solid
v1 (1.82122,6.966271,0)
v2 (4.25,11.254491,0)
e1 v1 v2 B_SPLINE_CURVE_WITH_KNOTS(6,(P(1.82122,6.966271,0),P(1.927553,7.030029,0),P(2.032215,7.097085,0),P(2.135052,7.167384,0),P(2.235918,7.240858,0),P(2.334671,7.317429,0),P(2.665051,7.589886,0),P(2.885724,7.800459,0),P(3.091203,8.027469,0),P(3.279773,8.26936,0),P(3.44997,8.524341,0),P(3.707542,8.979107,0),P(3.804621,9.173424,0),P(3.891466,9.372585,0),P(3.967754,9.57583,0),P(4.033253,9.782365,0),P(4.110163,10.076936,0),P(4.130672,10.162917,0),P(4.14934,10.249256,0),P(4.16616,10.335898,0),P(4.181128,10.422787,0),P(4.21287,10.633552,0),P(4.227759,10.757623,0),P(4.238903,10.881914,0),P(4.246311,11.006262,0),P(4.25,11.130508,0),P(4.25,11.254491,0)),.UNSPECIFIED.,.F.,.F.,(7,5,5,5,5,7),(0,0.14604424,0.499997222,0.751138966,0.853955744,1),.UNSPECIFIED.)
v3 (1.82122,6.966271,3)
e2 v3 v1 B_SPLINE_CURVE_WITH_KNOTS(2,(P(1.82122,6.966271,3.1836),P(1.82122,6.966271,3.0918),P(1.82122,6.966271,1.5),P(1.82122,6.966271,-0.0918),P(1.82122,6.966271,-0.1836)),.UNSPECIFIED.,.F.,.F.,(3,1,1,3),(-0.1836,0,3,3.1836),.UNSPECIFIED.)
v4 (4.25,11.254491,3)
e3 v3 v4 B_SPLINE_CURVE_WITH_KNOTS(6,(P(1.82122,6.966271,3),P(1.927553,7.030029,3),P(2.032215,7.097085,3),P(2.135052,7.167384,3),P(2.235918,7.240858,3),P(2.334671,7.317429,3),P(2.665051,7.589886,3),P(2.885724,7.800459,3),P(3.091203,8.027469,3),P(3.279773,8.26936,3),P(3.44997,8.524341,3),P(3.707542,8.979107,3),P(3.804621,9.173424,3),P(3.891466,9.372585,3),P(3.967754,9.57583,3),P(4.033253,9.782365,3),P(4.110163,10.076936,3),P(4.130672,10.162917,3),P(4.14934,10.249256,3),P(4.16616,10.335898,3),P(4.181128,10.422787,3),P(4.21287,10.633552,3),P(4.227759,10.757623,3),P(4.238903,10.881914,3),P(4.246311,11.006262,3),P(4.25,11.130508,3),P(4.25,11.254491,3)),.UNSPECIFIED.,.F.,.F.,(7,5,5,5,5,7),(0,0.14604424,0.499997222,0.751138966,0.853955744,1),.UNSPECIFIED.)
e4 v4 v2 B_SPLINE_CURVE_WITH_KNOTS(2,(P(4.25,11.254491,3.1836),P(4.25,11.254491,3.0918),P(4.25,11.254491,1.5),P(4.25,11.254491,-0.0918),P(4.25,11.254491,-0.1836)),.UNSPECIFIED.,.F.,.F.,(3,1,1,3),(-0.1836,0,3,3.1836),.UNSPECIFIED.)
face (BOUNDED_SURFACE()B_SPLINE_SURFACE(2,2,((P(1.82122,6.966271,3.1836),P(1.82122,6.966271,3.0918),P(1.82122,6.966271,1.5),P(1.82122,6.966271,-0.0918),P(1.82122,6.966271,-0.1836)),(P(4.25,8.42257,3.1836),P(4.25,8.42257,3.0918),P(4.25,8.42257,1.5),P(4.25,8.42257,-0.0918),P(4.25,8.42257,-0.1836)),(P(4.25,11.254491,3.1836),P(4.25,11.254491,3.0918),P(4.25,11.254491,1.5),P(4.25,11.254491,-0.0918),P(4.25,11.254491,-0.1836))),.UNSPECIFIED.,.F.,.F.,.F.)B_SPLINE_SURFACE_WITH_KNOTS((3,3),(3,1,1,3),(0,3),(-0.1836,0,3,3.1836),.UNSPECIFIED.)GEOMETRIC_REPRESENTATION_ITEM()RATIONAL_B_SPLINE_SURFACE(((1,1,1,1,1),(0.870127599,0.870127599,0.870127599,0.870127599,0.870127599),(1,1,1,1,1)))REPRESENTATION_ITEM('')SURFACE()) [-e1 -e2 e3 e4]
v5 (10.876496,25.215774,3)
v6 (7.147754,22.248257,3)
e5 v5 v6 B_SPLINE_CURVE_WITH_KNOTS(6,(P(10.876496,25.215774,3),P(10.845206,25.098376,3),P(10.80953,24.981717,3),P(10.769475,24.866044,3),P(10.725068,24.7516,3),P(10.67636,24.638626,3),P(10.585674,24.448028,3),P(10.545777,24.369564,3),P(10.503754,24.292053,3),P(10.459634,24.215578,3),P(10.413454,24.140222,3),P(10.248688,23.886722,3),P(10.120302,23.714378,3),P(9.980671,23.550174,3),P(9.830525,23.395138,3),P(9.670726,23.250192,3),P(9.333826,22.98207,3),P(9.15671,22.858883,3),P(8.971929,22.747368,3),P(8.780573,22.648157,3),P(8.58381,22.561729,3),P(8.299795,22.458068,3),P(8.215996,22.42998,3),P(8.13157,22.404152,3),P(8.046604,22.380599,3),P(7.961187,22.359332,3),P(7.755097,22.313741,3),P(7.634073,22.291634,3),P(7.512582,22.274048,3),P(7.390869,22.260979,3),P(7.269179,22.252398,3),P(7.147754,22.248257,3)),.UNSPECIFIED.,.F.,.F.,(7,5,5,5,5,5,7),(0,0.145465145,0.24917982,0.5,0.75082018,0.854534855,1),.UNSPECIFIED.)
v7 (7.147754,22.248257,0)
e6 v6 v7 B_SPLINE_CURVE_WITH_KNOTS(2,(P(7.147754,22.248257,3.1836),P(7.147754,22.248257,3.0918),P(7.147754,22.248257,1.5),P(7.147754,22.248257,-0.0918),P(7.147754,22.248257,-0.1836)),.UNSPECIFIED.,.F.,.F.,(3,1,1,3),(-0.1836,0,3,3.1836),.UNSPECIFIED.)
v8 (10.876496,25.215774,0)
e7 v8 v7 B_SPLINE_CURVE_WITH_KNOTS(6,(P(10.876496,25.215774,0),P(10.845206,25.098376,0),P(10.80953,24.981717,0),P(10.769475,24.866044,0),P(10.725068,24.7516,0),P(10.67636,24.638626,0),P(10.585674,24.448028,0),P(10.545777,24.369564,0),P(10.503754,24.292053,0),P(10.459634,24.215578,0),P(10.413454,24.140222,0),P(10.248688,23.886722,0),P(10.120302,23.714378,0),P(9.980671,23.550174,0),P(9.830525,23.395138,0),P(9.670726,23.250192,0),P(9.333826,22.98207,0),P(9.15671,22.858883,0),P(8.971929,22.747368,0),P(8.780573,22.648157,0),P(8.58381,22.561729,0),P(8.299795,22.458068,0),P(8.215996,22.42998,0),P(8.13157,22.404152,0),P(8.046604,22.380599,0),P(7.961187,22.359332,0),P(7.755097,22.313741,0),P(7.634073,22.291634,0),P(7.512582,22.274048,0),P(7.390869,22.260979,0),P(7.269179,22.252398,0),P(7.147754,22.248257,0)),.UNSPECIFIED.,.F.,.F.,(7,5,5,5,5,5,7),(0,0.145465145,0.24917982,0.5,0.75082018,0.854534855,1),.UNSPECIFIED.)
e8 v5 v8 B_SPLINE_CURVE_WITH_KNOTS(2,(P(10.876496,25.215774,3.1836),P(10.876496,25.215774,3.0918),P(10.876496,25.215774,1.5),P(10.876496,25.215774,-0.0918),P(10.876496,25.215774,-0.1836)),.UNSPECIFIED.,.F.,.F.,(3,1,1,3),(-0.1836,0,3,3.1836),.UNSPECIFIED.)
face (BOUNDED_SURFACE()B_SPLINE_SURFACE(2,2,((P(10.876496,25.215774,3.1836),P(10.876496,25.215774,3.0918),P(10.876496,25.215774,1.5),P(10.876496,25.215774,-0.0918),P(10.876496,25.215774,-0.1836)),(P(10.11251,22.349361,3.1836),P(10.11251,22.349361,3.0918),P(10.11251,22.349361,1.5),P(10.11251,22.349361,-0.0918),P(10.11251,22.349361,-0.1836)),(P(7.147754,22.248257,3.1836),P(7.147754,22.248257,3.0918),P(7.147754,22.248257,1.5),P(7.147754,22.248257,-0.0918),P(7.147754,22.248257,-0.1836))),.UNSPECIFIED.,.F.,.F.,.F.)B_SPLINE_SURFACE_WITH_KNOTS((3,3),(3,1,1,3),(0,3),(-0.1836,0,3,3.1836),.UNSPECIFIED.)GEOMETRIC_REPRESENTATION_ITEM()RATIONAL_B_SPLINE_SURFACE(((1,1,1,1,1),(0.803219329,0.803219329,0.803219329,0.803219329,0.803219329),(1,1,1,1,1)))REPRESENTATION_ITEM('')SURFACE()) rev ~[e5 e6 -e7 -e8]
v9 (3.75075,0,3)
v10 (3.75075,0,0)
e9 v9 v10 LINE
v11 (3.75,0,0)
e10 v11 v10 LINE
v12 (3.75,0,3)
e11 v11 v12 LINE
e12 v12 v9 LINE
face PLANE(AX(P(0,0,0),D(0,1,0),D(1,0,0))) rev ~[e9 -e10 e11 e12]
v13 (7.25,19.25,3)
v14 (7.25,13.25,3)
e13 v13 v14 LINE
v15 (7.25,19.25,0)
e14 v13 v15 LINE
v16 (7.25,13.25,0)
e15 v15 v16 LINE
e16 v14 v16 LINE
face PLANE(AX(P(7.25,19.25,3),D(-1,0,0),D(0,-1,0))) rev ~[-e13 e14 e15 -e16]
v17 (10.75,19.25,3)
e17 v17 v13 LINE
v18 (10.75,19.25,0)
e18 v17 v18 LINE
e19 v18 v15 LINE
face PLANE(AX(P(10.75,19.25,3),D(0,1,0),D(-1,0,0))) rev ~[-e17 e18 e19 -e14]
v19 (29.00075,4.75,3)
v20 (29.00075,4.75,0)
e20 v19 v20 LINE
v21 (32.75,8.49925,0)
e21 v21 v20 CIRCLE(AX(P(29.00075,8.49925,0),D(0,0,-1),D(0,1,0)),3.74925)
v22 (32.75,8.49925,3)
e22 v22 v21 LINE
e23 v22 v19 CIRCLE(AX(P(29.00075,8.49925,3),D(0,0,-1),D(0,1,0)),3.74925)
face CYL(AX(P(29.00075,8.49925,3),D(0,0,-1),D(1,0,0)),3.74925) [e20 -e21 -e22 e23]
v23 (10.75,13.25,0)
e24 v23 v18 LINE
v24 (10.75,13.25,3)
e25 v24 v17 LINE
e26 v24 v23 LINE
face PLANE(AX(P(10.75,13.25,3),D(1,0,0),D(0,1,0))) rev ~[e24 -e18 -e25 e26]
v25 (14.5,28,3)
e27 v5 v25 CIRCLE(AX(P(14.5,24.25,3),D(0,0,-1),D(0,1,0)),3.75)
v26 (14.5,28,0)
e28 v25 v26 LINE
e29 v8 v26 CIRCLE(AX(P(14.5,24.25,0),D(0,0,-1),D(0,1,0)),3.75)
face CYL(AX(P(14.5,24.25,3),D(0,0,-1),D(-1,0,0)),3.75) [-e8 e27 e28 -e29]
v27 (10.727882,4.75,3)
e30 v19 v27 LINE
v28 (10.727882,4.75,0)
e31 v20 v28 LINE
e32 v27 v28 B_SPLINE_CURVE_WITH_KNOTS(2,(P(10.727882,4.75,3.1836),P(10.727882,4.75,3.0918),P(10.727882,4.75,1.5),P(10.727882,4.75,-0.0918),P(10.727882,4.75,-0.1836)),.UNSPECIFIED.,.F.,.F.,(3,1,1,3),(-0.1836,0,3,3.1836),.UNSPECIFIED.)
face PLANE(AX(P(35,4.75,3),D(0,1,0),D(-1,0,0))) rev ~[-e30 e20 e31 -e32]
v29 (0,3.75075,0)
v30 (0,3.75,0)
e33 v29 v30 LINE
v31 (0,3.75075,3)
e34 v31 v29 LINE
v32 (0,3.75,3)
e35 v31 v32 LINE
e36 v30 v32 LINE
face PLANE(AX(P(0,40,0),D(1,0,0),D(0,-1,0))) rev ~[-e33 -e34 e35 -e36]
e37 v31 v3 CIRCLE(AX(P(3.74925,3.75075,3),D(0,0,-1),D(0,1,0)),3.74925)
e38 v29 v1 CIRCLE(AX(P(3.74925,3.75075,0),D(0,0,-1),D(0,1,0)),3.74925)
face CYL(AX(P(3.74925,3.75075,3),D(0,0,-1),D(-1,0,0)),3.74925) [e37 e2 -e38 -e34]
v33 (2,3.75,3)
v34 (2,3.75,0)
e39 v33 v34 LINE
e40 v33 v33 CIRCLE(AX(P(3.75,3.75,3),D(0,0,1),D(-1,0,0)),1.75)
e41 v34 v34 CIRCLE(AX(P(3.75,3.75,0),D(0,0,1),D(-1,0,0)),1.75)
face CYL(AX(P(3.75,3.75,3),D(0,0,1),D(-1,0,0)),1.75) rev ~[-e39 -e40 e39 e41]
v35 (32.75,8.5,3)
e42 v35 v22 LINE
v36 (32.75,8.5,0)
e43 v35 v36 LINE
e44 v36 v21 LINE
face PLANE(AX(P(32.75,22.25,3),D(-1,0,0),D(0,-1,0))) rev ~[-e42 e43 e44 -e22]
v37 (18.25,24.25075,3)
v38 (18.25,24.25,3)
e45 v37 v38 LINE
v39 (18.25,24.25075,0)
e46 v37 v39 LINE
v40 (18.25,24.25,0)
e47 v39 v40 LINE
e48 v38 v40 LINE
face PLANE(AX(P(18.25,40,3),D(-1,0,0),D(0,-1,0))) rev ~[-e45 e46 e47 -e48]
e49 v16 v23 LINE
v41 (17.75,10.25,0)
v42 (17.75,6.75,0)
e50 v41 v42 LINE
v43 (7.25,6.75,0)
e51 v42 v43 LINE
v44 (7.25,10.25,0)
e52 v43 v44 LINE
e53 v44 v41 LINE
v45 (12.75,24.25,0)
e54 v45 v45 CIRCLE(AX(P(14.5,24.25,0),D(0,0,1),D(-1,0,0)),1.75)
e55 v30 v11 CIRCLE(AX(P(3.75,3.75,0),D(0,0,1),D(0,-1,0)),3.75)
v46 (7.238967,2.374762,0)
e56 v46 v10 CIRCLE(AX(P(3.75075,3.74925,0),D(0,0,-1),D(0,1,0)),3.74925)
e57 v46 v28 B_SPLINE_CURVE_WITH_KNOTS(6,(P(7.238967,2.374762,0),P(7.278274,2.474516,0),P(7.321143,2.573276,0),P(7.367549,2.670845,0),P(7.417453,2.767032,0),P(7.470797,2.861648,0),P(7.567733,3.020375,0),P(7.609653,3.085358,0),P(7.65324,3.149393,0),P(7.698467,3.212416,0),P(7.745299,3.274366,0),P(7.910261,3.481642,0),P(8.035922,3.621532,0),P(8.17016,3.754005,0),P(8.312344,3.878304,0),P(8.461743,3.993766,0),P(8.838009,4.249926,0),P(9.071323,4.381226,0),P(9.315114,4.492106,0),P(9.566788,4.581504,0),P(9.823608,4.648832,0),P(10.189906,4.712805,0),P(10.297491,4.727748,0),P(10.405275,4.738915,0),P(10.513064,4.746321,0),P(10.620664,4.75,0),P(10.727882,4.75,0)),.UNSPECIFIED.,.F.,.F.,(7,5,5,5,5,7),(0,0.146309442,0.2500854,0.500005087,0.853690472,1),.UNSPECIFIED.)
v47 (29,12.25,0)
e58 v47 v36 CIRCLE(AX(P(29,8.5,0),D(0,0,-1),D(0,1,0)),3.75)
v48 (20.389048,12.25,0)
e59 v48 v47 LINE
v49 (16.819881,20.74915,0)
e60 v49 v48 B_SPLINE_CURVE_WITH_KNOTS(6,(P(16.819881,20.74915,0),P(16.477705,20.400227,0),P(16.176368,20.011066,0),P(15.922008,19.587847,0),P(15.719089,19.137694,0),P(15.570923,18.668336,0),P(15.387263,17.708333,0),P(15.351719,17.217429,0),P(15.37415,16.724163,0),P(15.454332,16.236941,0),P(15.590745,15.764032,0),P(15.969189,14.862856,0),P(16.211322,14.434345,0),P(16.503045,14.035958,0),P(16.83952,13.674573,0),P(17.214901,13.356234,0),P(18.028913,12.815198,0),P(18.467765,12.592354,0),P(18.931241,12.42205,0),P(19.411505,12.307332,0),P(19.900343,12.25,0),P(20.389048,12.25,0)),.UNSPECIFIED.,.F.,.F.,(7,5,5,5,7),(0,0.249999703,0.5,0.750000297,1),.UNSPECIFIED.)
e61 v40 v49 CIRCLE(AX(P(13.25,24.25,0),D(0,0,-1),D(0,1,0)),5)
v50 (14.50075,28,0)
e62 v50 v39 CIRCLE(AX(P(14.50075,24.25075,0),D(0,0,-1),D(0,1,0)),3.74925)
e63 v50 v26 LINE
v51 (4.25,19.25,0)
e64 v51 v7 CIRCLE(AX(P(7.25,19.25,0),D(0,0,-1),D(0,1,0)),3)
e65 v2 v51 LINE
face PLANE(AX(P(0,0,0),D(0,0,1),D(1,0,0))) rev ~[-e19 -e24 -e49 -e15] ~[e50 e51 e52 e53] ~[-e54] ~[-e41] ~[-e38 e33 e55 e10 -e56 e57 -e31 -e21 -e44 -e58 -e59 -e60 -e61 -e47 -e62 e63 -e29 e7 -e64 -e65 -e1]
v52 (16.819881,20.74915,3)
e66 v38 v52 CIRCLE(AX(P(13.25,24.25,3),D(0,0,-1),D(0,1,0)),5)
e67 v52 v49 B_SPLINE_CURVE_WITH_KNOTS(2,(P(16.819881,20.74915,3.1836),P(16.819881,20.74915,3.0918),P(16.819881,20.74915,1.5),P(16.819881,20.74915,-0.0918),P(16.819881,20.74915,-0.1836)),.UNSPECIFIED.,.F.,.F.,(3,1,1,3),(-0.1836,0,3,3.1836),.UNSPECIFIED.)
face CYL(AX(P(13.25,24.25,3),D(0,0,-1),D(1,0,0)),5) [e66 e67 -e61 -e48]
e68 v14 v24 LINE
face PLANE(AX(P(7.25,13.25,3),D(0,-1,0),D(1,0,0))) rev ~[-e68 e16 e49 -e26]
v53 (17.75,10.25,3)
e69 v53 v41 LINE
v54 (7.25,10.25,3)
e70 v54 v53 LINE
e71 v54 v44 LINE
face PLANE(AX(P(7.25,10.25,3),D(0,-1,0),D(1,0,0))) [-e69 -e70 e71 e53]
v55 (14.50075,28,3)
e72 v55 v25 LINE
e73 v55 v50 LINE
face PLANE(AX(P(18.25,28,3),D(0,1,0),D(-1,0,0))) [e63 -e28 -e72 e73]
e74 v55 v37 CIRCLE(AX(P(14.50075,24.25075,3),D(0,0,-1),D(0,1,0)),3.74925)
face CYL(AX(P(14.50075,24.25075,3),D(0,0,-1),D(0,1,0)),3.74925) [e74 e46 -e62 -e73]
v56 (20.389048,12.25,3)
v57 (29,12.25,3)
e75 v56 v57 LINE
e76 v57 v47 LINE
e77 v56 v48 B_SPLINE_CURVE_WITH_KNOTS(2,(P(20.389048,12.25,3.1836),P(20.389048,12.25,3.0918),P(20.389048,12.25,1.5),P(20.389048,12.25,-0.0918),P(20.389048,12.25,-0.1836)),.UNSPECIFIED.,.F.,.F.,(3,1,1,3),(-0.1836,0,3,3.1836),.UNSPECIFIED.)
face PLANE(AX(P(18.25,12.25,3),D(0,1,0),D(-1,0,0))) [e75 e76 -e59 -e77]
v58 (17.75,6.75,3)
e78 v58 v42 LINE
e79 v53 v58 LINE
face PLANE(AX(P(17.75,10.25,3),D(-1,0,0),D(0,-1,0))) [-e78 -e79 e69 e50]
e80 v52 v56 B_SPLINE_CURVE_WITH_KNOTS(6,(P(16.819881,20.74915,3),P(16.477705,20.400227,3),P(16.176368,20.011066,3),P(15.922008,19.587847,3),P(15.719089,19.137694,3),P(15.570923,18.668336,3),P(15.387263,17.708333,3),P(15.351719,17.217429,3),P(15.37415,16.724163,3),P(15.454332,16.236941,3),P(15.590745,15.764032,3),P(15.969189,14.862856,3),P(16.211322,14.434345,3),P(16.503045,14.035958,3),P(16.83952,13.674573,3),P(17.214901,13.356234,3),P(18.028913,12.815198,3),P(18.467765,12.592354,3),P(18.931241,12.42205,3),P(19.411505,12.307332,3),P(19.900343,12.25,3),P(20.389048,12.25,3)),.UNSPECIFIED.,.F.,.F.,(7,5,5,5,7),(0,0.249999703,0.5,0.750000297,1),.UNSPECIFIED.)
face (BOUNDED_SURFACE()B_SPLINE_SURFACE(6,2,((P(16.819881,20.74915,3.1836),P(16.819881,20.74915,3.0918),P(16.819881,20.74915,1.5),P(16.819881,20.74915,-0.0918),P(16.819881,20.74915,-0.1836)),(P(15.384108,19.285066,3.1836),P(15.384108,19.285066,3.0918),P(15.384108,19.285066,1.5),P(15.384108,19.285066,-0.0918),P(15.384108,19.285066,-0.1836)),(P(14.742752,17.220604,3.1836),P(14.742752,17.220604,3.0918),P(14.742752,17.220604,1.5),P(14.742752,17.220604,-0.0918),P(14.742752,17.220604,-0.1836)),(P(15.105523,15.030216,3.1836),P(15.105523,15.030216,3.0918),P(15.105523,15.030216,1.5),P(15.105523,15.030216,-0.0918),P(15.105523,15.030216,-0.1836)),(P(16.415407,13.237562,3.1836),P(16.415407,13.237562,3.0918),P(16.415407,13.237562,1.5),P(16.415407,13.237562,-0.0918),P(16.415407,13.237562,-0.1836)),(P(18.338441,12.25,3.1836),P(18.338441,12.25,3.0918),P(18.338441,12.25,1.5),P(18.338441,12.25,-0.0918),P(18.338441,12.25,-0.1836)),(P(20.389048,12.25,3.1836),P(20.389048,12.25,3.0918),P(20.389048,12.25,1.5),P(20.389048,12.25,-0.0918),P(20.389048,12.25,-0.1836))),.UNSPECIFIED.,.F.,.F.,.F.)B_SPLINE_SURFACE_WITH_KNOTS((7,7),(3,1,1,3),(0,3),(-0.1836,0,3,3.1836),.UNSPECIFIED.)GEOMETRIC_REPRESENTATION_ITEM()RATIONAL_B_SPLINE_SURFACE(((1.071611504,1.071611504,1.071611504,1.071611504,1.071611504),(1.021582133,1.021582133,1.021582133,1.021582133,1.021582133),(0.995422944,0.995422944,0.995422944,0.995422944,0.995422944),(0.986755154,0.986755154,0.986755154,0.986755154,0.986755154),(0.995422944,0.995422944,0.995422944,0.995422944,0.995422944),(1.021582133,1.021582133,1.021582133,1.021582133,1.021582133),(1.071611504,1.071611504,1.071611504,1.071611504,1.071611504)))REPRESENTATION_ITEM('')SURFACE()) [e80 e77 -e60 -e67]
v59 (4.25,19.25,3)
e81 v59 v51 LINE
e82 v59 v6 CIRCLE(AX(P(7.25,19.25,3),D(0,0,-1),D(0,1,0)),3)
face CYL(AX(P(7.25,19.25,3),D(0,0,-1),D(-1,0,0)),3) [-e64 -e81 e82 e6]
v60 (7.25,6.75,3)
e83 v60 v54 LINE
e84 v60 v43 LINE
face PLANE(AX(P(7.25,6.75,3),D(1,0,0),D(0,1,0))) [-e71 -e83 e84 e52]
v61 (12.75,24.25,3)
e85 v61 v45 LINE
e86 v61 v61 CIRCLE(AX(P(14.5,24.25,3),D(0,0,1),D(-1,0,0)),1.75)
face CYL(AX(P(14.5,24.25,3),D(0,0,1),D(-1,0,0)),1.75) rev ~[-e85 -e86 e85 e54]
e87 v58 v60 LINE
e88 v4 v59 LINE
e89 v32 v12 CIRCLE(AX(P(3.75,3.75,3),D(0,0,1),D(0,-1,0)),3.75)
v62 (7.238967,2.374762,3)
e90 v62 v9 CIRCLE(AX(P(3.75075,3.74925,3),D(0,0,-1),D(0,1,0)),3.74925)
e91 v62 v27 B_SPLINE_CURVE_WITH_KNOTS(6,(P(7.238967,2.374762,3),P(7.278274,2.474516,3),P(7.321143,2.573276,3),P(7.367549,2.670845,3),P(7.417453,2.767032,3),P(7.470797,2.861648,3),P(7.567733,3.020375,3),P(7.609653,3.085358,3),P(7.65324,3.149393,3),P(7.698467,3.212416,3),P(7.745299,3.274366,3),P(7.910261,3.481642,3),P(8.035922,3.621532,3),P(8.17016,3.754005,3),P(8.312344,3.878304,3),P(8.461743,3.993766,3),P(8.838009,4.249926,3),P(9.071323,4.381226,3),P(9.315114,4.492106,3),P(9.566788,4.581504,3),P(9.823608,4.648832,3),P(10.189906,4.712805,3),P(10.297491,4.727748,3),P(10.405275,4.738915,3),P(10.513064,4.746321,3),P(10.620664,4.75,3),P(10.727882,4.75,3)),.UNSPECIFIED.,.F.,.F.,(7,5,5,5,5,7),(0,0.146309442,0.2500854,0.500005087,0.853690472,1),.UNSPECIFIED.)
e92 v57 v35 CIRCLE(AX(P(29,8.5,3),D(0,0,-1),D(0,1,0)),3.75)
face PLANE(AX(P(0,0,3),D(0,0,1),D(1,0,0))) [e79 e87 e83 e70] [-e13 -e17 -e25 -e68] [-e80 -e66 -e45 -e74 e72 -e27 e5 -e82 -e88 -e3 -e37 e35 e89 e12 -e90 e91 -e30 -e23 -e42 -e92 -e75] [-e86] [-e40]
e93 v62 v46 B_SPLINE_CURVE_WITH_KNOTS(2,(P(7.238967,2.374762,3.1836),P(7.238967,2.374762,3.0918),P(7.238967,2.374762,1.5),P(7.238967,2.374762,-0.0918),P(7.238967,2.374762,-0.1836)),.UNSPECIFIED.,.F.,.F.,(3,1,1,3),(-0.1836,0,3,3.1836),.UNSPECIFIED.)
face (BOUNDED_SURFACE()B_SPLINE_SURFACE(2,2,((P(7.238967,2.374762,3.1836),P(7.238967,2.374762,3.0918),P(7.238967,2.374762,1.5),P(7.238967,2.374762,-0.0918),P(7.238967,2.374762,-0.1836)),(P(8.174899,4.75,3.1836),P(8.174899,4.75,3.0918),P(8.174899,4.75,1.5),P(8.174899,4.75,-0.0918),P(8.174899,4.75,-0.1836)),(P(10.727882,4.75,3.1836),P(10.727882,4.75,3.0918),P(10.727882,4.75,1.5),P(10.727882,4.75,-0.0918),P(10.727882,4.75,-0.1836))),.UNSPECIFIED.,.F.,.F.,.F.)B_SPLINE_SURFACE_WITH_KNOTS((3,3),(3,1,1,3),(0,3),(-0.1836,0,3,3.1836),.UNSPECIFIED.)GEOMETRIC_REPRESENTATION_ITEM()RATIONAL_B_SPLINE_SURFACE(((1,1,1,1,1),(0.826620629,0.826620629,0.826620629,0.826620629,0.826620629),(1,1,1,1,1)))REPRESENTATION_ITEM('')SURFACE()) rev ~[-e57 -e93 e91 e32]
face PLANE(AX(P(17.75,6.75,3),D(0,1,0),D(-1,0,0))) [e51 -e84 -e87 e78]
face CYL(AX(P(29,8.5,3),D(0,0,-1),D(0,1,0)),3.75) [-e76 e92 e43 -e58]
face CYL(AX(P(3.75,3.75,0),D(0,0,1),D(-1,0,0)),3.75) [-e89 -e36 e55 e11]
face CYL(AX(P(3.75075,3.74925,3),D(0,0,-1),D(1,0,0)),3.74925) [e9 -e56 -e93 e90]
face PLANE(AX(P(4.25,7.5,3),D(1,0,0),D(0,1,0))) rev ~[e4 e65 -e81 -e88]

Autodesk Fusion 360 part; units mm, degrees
sketch "Sketch1" plane through (0, 0, 0) normal (0, 0, 1) x (1, 0, 0)
  line L0 (0, 0) -> (35, 0)
  line L1 (35, 0) -> (35, 40)
  line L2 (35, 40) -> (0, 40)
  line L3 (0, 40) -> (0, 0)
  dimension "d1" = 35
  dimension "d2" = 40
extrude "Extrude1" add sketch "Sketch1" along normal blind 3
sketch "Sketch2" plane through (0, 0, 3) normal (0, 0, 1) x (-1, 0, 0)
  line L0 (0, -40) -> (0, 0)
  line L1 (0, 0) -> (-35, 0)
  line L2 (-35, 0) -> (-35, -40)
  line L3 (-35, -40) -> (0, -40)
  circle A0 centre (-3.75, -3.75) radius 1.75
  dimension "d5" = 3.5
  dimension "d6" = 3.75
  dimension "d7" = 3.75
extrude "Extrude2" cut sketch "Sketch2" against normal blind 3 contours A0
fillet "Fillet1" radius 3.75 1 edges at (0, 0, 1.5)
sketch "Sketch3" plane through (0, 0, 3) normal (0, 0, 1) x (-1, 0, 0)
  arc A0 (0, -3.75) -> (-3.75, 0) centre (-3.75, -3.75) ccw
  line L0 (-3.75, 0) -> (-35, 0)
  line L1 (-35, 0) -> (-35, -40)
  line L2 (-35, -40) -> (0, -40)
  line L3 (0, -40) -> (0, -3.75)
  circle A1 centre (-3.75, -3.75) radius 1.75
  line L4 (-7.25, -10.25) -> (-17.75, -10.25)
  line L5 (-17.75, -10.25) -> (-17.75, -6.75)
  line L6 (-17.75, -6.75) -> (-7.25, -6.75)
  line L7 (-7.25, -6.75) -> (-7.25, -10.25)
  dimension "d12" = 10.5
  dimension "d13" = 3.5
  dimension "d14" = 3
  dimension "d15" = 3.5
extrude "Extrude3" cut sketch "Sketch3" against normal blind 3 contours L4 L5 L6 L7
sketch "Sketch4" plane through (0, 0, 3) normal (0, 0, 1) x (-1, 0, 0)
  line L0 (-17.75, -10.25) -> (-17.75, -6.75)
  line L1 (-17.75, -6.75) -> (-7.25, -6.75)
  line L2 (-7.25, -6.75) -> (-7.25, -10.25)
  line L3 (-7.25, -10.25) -> (-17.75, -10.25)
  arc A0 (0, -3.75) -> (-3.75, 0) centre (-3.75, -3.75) ccw
  line L4 (-3.75, 0) -> (-35, 0)
  line L5 (-35, 0) -> (-35, -40)
  line L6 (-35, -40) -> (0, -40)
  line L7 (0, -40) -> (0, -3.75)
  circle A1 centre (-3.75, -3.75) radius 1.75
  line L8 (-7.25, -13.25) -> (-10.75, -13.25)
  line L9 (-10.75, -13.25) -> (-10.75, -19.25)
  line L10 (-10.75, -19.25) -> (-7.25, -19.25)
  line L11 (-7.25, -19.25) -> (-7.25, -13.25)
  dimension "d18" = 3.5
  dimension "d19" = 6
  dimension "d20" = 0
  dimension "d21" = 3
extrude "Extrude4" cut sketch "Sketch4" against normal blind 3 contours L8 L9 L10 L11
sketch "Sketch5" plane through (0, 0, 3) normal (0, 0, 1) x (-1, 0, 0)
  line L0 (-10.75, -13.25) -> (-7.25, -13.25)
  line L1 (-7.25, -13.25) -> (-7.25, -19.25)
  line L2 (-7.25, -19.25) -> (-10.75, -19.25)
  line L3 (-10.75, -19.25) -> (-10.75, -13.25)
  line L4 (-17.75, -10.25) -> (-17.75, -6.75)
  line L5 (-17.75, -6.75) -> (-7.25, -6.75)
  line L6 (-7.25, -6.75) -> (-7.25, -10.25)
  line L7 (-7.25, -10.25) -> (-17.75, -10.25)
  arc A0 (0, -3.75) -> (-3.75, 0) centre (-3.75, -3.75) ccw
  line L8 (-3.75, 0) -> (-35, 0)
  line L9 (-35, 0) -> (-35, -40)
  line L10 (-35, -40) -> (0, -40)
  line L11 (0, -40) -> (0, -3.75)
  circle A1 centre (-3.75, -3.75) radius 1.75
  circle A2 centre (-14.5, -24.25) radius 1.75
  dimension "d24" = 3.5
  dimension "d25" = 5
  dimension "d26" = 3.75
extrude "Extrude5" cut sketch "Sketch5" against normal blind 3 contours A2
sketch "Sketch8" plane through (0, 0, 3) normal (0, 0, 1) x (-1, 0, 0)
  circle A0 centre (-14.5, -24.25) radius 1.75
  line L0 (-10.75, -13.25) -> (-7.25, -13.25)
  line L1 (-7.25, -13.25) -> (-7.25, -19.25)
  line L2 (-7.25, -19.25) -> (-10.75, -19.25)
  line L3 (-10.75, -19.25) -> (-10.75, -13.25)
  line L4 (-17.75, -10.25) -> (-17.75, -6.75)
  line L5 (-17.75, -6.75) -> (-7.25, -6.75)
  line L6 (-7.25, -6.75) -> (-7.25, -10.25)
  line L7 (-7.25, -10.25) -> (-17.75, -10.25)
  arc A1 (0, -3.75) -> (-3.75, 0) centre (-3.75, -3.75) ccw
  line L8 (-3.75, 0) -> (-35, 0)
  line L9 (-35, 0) -> (-35, -40)
  line L10 (-35, -40) -> (0, -40)
  line L11 (0, -40) -> (0, -3.75)
  circle A2 centre (-3.75, -3.75) radius 1.75
  line L12 (0, -7.5) -> (-4.25, -7.5)
  line L13 (-4.25, -7.5) -> (-4.25, -22.25)
  line L14 (-4.25, -22.25) -> (0, -22.25)
  line L15 (0, -22.25) -> (0, -7.5)
  dimension "d30" = 3.75
  dimension "d31" = 3
  dimension "d32" = 3
extrude "Extrude6" cut sketch "Sketch8" against normal blind 3 contours L11 L12 L13 L14 L15
fillet "Fillet2" radius 3.75 1 edges at (0, 7.5, 1.5)
fillet "Fillet3" radius 5 1 edges at (4.25, 7.5, 1.5)
sketch "Sketch9" plane through (0, 0, 3) normal (0, 0, 1) x (-1, 0, 0)
  arc A0 (-1.8214, -6.9661) -> (-3.75, 0) centre (-3.75, -3.75) ccw
  line L0 (-3.75, 0) -> (-35, 0)
  line L1 (-35, 0) -> (-35, -40)
  line L2 (-35, -40) -> (0, -40)
  line L3 (0, -40) -> (0, -22.25)
  line L4 (0, -22.25) -> (-4.25, -22.25)
  line L5 (-4.25, -22.25) -> (-4.25, -11.2542)
  arc A1 (-1.8214, -6.9661) -> (-4.25, -11.2542) centre (0.75, -11.2542) ccw
  circle A2 centre (-3.75, -3.75) radius 1.75
  line L6 (-17.75, -10.25) -> (-17.75, -6.75)
  line L7 (-17.75, -6.75) -> (-7.25, -6.75)
  line L8 (-7.25, -6.75) -> (-7.25, -10.25)
  line L9 (-7.25, -10.25) -> (-17.75, -10.25)
  line L10 (-10.75, -13.25) -> (-7.25, -13.25)
  line L11 (-7.25, -13.25) -> (-7.25, -19.25)
  line L12 (-7.25, -19.25) -> (-10.75, -19.25)
  line L13 (-10.75, -19.25) -> (-10.75, -13.25)
  circle A3 centre (-14.5, -24.25) radius 1.75
  line L14 (0, -22.25) -> (-10.75, -22.25)
  line L15 (-10.75, -22.25) -> (-10.75, -27)
  line L16 (-10.75, -27) -> (0, -27)
  line L17 (0, -27) -> (0, -22.25)
  dimension "d39" = 3.75
extrude "Extrude7" cut sketch "Sketch9" against normal blind 3 contours L3 L4 L14 L15 L16 L17
fillet "Fillet4" radius 3 1 edges at (4.25, 22.25, 1.5)
sketch "Sketch12" plane through (0, 0, 3) normal (0, 0, 1) x (-1, 0, 0)
  arc A0 (-7.25, -22.25) -> (-4.25, -19.25) centre (-7.25, -19.25) ccw
  line L0 (-4.25, -19.25) -> (-4.25, -11.2542)
  arc A1 (-1.8214, -6.9661) -> (-4.25, -11.2542) centre (0.75, -11.2542) ccw
  arc A2 (-1.8214, -6.9661) -> (-3.75, 0) centre (-3.75, -3.75) ccw
  line L1 (-3.75, 0) -> (-35, 0)
  line L2 (-35, 0) -> (-35, -40)
  line L3 (-35, -40) -> (0, -40)
  line L4 (0, -40) -> (0, -27)
  line L5 (0, -27) -> (-10.75, -27)
  line L6 (-10.75, -27) -> (-10.75, -22.25)
  line L7 (-10.75, -22.25) -> (-7.25, -22.25)
  circle A3 centre (-14.5, -24.25) radius 1.75
  line L8 (-10.75, -13.25) -> (-7.25, -13.25)
  line L9 (-7.25, -13.25) -> (-7.25, -19.25)
  line L10 (-7.25, -19.25) -> (-10.75, -19.25)
  line L11 (-10.75, -19.25) -> (-10.75, -13.25)
  line L12 (-17.75, -10.25) -> (-17.75, -6.75)
  line L13 (-17.75, -6.75) -> (-7.25, -6.75)
  line L14 (-7.25, -6.75) -> (-7.25, -10.25)
  line L15 (-7.25, -10.25) -> (-17.75, -10.25)
  circle A4 centre (-3.75, -3.75) radius 1.75
  line L16 (-10.75, -27) -> (0, -27)
  line L17 (0, -27) -> (0, -40)
  line L18 (0, -40) -> (-10.75, -40)
  line L19 (-10.75, -40) -> (-10.75, -27)
extrude "Extrude9" cut sketch "Sketch12" against normal blind 3 contours L3 L4 L5 L16 L17 L18 L19
sketch "Sketch13" plane through (0, 0, 3) normal (0, 0, 1) x (-1, 0, 0)
  circle A0 centre (-3.75, -3.75) radius 1.75
  line L0 (-17.75, -10.25) -> (-17.75, -6.75)
  line L1 (-17.75, -6.75) -> (-7.25, -6.75)
  line L2 (-7.25, -6.75) -> (-7.25, -10.25)
  line L3 (-7.25, -10.25) -> (-17.75, -10.25)
  line L4 (-10.75, -13.25) -> (-7.25, -13.25)
  line L5 (-7.25, -13.25) -> (-7.25, -19.25)
  line L6 (-7.25, -19.25) -> (-10.75, -19.25)
  line L7 (-10.75, -19.25) -> (-10.75, -13.25)
  circle A1 centre (-14.5, -24.25) radius 1.75
  line L8 (-10.75, -40) -> (-10.75, -22.25)
  line L9 (-10.75, -22.25) -> (-7.25, -22.25)
  arc A2 (-7.25, -22.25) -> (-4.25, -19.25) centre (-7.25, -19.25) ccw
  line L10 (-4.25, -19.25) -> (-4.25, -11.2542)
  arc A3 (-1.8214, -6.9661) -> (-4.25, -11.2542) centre (0.75, -11.2542) ccw
  arc A4 (-1.8214, -6.9661) -> (-3.75, 0) centre (-3.75, -3.75) ccw
  line L11 (-3.75, 0) -> (-35, 0)
  line L12 (-35, 0) -> (-35, -40)
  line L13 (-35, -40) -> (-10.75, -40)
  line L14 (-35, -40) -> (-18.25, -40)
  line L15 (-18.25, -40) -> (-18.25, -22.25)
  line L16 (-18.25, -22.25) -> (-35, -22.25)
  line L17 (-35, -22.25) -> (-35, -40)
  dimension "d48" = 3.75
extrude "Extrude10" cut sketch "Sketch13" against normal blind 3 contours L12 L13 L14 L15 L16 L17
sketch "Sketch14" plane through (0, 0, 3) normal (0, 0, 1) x (-1, 0, 0)
  line L0 (-35, -22.25) -> (-18.25, -22.25)
  line L1 (-18.25, -22.25) -> (-18.25, -40)
  line L2 (-18.25, -40) -> (-10.75, -40)
  line L3 (-10.75, -40) -> (-10.75, -22.25)
  line L4 (-10.75, -22.25) -> (-7.25, -22.25)
  arc A0 (-7.25, -22.25) -> (-4.25, -19.25) centre (-7.25, -19.25) ccw
  line L5 (-4.25, -19.25) -> (-4.25, -11.2542)
  arc A1 (-1.8214, -6.9661) -> (-4.25, -11.2542) centre (0.75, -11.2542) ccw
  arc A2 (-1.8214, -6.9661) -> (-3.75, 0) centre (-3.75, -3.75) ccw
  line L6 (-3.75, 0) -> (-35, 0)
  line L7 (-35, 0) -> (-35, -22.25)
  circle A3 centre (-14.5, -24.25) radius 1.75
  line L8 (-10.75, -13.25) -> (-7.25, -13.25)
  line L9 (-7.25, -13.25) -> (-7.25, -19.25)
  line L10 (-7.25, -19.25) -> (-10.75, -19.25)
  line L11 (-10.75, -19.25) -> (-10.75, -13.25)
  line L12 (-17.75, -10.25) -> (-17.75, -6.75)
  line L13 (-17.75, -6.75) -> (-7.25, -6.75)
  line L14 (-7.25, -6.75) -> (-7.25, -10.25)
  line L15 (-7.25, -10.25) -> (-17.75, -10.25)
  circle A4 centre (-3.75, -3.75) radius 1.75
  line L16 (-10.75, -40) -> (-18.25, -40)
  line L17 (-18.25, -40) -> (-18.25, -28)
  line L18 (-18.25, -28) -> (-10.75, -28)
  line L19 (-10.75, -28) -> (-10.75, -40)
  dimension "d51" = 3.75
extrude "Extrude11" cut sketch "Sketch14" against normal blind 3 contours L1 L2 L3 L16 L17 L18 L19
fillet "Fillet5" radius 3.75 1 edges at (10.75, 28, 1.5)
fillet "Fillet6" radius 3.75 1 edges at (18.25, 28, 1.5)
sketch "Sketch15" plane through (0, 0, 3) normal (0, 0, 1) x (-1, 0, 0)
  circle A0 centre (-3.75, -3.75) radius 1.75
  line L0 (-17.75, -10.25) -> (-17.75, -6.75)
  line L1 (-17.75, -6.75) -> (-7.25, -6.75)
  line L2 (-7.25, -6.75) -> (-7.25, -10.25)
  line L3 (-7.25, -10.25) -> (-17.75, -10.25)
  line L4 (-10.75, -13.25) -> (-7.25, -13.25)
  line L5 (-7.25, -13.25) -> (-7.25, -19.25)
  line L6 (-7.25, -19.25) -> (-10.75, -19.25)
  line L7 (-10.75, -19.25) -> (-10.75, -13.25)
  circle A1 centre (-14.5, -24.25) radius 1.75
  arc A2 (-18.25, -24.25) -> (-10.75, -24.25) centre (-14.5, -24.25) ccw
  line L8 (-10.75, -24.25) -> (-10.75, -22.25)
  line L9 (-10.75, -22.25) -> (-7.25, -22.25)
  arc A3 (-7.25, -22.25) -> (-4.25, -19.25) centre (-7.25, -19.25) ccw
  line L10 (-4.25, -19.25) -> (-4.25, -11.2542)
  arc A4 (-1.8214, -6.9661) -> (-4.25, -11.2542) centre (0.75, -11.2542) ccw
  arc A5 (-1.8214, -6.9661) -> (-3.75, 0) centre (-3.75, -3.75) ccw
  line L11 (-3.75, 0) -> (-35, 0)
  line L12 (-35, 0) -> (-35, -22.25)
  line L13 (-35, -22.25) -> (-18.25, -22.25)
  line L14 (-18.25, -22.25) -> (-18.25, -24.25)
  line L15 (-7.5, 0) -> (-35, 0)
  line L16 (-35, 0) -> (-35, -4.75)
  line L17 (-35, -4.75) -> (-7.5, -4.75)
  line L18 (-7.5, -4.75) -> (-7.5, 0)
  dimension "d58" = 2
  dimension "d59" = 3.75
extrude "Extrude12" cut sketch "Sketch15" against normal blind 3 contours L11 L12 L15 L16 L17 L18
fillet "Fillet7" radius 3.75 1 edges at (7.5, 0, 1.5)
fillet "Fillet8" radius 3.75 1 edges at (7.5, 4.75, 1.5)
sketch "Sketch16" plane through (0, 0, 3) normal (0, 0, 1) x (-1, 0, 0)
  circle A0 centre (-14.5, -24.25) radius 1.75
  line L0 (-10.75, -13.25) -> (-7.25, -13.25)
  line L1 (-7.25, -13.25) -> (-7.25, -19.25)
  line L2 (-7.25, -19.25) -> (-10.75, -19.25)
  line L3 (-10.75, -19.25) -> (-10.75, -13.25)
  line L4 (-17.75, -10.25) -> (-17.75, -6.75)
  line L5 (-17.75, -6.75) -> (-7.25, -6.75)
  line L6 (-7.25, -6.75) -> (-7.25, -10.25)
  line L7 (-7.25, -10.25) -> (-17.75, -10.25)
  circle A1 centre (-3.75, -3.75) radius 1.75
  arc A2 (-10.7276, -4.75) -> (-7.2388, -2.375) centre (-10.7276, -1) ccw
  line L8 (-10.7276, -4.75) -> (-35, -4.75)
  line L9 (-35, -4.75) -> (-35, -22.25)
  line L10 (-35, -22.25) -> (-18.25, -22.25)
  line L11 (-18.25, -22.25) -> (-18.25, -24.25)
  arc A3 (-18.25, -24.25) -> (-10.75, -24.25) centre (-14.5, -24.25) ccw
  line L12 (-10.75, -24.25) -> (-10.75, -22.25)
  line L13 (-10.75, -22.25) -> (-7.25, -22.25)
  arc A4 (-7.25, -22.25) -> (-4.25, -19.25) centre (-7.25, -19.25) ccw
  line L14 (-4.25, -19.25) -> (-4.25, -11.2542)
  arc A5 (-1.8214, -6.9661) -> (-4.25, -11.2542) centre (0.75, -11.2542) ccw
  arc A6 (-1.8214, -6.9661) -> (-7.2388, -2.375) centre (-3.75, -3.75) ccw
  line L15 (-32.75, -4.75) -> (-35, -4.75)
  line L16 (-35, -4.75) -> (-35, -22.25)
  line L17 (-35, -22.25) -> (-32.75, -22.25)
  line L18 (-32.75, -22.25) -> (-32.75, -4.75)
  dimension "d66" = 15
extrude "Extrude13" cut sketch "Sketch16" against normal blind 3 contours L8 L9 L10 L15 L16 L17 L18
sketch "Sketch17" plane through (0, 0, 3) normal (0, 0, 1) x (-1, 0, 0)
  line L0 (-32.75, -4.75) -> (-32.75, -22.25)
  line L1 (-32.75, -22.25) -> (-18.25, -22.25)
  line L2 (-18.25, -22.25) -> (-18.25, -24.25)
  arc A0 (-18.25, -24.25) -> (-10.75, -24.25) centre (-14.5, -24.25) ccw
  line L3 (-10.75, -24.25) -> (-10.75, -22.25)
  line L4 (-10.75, -22.25) -> (-7.25, -22.25)
  arc A1 (-7.25, -22.25) -> (-4.25, -19.25) centre (-7.25, -19.25) ccw
  line L5 (-4.25, -19.25) -> (-4.25, -11.2542)
  arc A2 (-1.8214, -6.9661) -> (-4.25, -11.2542) centre (0.75, -11.2542) ccw
  arc A3 (-1.8214, -6.9661) -> (-7.2388, -2.375) centre (-3.75, -3.75) ccw
  arc A4 (-10.7276, -4.75) -> (-7.2388, -2.375) centre (-10.7276, -1) ccw
  line L6 (-10.7276, -4.75) -> (-32.75, -4.75)
  circle A5 centre (-14.5, -24.25) radius 1.75
  line L7 (-10.75, -13.25) -> (-7.25, -13.25)
  line L8 (-7.25, -13.25) -> (-7.25, -19.25)
  line L9 (-7.25, -19.25) -> (-10.75, -19.25)
  line L10 (-10.75, -19.25) -> (-10.75, -13.25)
  line L11 (-17.75, -10.25) -> (-17.75, -6.75)
  line L12 (-17.75, -6.75) -> (-7.25, -6.75)
  line L13 (-7.25, -6.75) -> (-7.25, -10.25)
  line L14 (-7.25, -10.25) -> (-17.75, -10.25)
  circle A6 centre (-3.75, -3.75) radius 1.75
  line L15 (-32.75, -22.25) -> (-18.25, -22.25)
  line L16 (-18.25, -22.25) -> (-18.25, -12.25)
  line L17 (-18.25, -12.25) -> (-32.75, -12.25)
  line L18 (-32.75, -12.25) -> (-32.75, -22.25)
  dimension "d69" = 2
extrude "Extrude14" cut sketch "Sketch17" against normal blind 3 contours L0 L1 L15 L16 L17 L18
fillet "Fillet9" radius 3.75 1 edges at (32.75, 12.25, 1.5)
fillet "Fillet10" radius 3.75 1 edges at (32.75, 4.75, 1.5)
sketch "Sketch18" plane through (0, 0, 3) normal (0, 0, 1) x (-1, 0, 0)
  arc A0 (-29, -4.75) -> (-29, -12.25) centre (-29, -8.5) ccw
  line L0 (-29, -12.25) -> (-18.25, -12.25)
  line L1 (-18.25, -12.25) -> (-18.25, -24.25)
  arc A1 (-18.25, -24.25) -> (-10.75, -24.25) centre (-14.5, -24.25) ccw
  line L2 (-10.75, -24.25) -> (-10.75, -22.25)
  line L3 (-10.75, -22.25) -> (-7.25, -22.25)
  arc A2 (-7.25, -22.25) -> (-4.25, -19.25) centre (-7.25, -19.25) ccw
  line L4 (-4.25, -19.25) -> (-4.25, -11.2542)
  arc A3 (-1.8214, -6.9661) -> (-4.25, -11.2542) centre (0.75, -11.2542) ccw
  arc A4 (-1.8214, -6.9661) -> (-7.2388, -2.375) centre (-3.75, -3.75) ccw
  arc A5 (-10.7276, -4.75) -> (-7.2388, -2.375) centre (-10.7276, -1) ccw
  line L5 (-10.7276, -4.75) -> (-29, -4.75)
  circle A6 centre (-14.5, -24.25) radius 1.75
  line L6 (-10.75, -13.25) -> (-7.25, -13.25)
  line L7 (-7.25, -13.25) -> (-7.25, -19.25)
  line L8 (-7.25, -19.25) -> (-10.75, -19.25)
  line L9 (-10.75, -19.25) -> (-10.75, -13.25)
  line L10 (-17.75, -10.25) -> (-17.75, -6.75)
  line L11 (-17.75, -6.75) -> (-7.25, -6.75)
  line L12 (-7.25, -6.75) -> (-7.25, -10.25)
  line L13 (-7.25, -10.25) -> (-17.75, -10.25)
  circle A7 centre (-3.75, -3.75) radius 1.75
  line L14 (-18.25, -12.25) -> (-12.75, -12.25)
  line L15 (-12.75, -12.25) -> (-12.75, -19.25)
  line L16 (-12.75, -19.25) -> (-18.25, -19.25)
  line L17 (-18.25, -19.25) -> (-18.25, -12.25)
  dimension "d76" = 2
extrude "Extrude15" cut sketch "Sketch18" against normal blind 3 contours L1 L14 L15 L16 L17
fillet "Fillet11" radius 5 1 edges at (18.25, 19.25, 1.5)
fillet "Fillet12" radius 5 1 edges at (12.75, 19.25, 1.5)
fillet "Fillet13" radius 5 1 edges at (12.75, 12.25, 1.5)
fillet "Fillet14" radius 4 1 edges at (10.75, 22.25, 1.5)
